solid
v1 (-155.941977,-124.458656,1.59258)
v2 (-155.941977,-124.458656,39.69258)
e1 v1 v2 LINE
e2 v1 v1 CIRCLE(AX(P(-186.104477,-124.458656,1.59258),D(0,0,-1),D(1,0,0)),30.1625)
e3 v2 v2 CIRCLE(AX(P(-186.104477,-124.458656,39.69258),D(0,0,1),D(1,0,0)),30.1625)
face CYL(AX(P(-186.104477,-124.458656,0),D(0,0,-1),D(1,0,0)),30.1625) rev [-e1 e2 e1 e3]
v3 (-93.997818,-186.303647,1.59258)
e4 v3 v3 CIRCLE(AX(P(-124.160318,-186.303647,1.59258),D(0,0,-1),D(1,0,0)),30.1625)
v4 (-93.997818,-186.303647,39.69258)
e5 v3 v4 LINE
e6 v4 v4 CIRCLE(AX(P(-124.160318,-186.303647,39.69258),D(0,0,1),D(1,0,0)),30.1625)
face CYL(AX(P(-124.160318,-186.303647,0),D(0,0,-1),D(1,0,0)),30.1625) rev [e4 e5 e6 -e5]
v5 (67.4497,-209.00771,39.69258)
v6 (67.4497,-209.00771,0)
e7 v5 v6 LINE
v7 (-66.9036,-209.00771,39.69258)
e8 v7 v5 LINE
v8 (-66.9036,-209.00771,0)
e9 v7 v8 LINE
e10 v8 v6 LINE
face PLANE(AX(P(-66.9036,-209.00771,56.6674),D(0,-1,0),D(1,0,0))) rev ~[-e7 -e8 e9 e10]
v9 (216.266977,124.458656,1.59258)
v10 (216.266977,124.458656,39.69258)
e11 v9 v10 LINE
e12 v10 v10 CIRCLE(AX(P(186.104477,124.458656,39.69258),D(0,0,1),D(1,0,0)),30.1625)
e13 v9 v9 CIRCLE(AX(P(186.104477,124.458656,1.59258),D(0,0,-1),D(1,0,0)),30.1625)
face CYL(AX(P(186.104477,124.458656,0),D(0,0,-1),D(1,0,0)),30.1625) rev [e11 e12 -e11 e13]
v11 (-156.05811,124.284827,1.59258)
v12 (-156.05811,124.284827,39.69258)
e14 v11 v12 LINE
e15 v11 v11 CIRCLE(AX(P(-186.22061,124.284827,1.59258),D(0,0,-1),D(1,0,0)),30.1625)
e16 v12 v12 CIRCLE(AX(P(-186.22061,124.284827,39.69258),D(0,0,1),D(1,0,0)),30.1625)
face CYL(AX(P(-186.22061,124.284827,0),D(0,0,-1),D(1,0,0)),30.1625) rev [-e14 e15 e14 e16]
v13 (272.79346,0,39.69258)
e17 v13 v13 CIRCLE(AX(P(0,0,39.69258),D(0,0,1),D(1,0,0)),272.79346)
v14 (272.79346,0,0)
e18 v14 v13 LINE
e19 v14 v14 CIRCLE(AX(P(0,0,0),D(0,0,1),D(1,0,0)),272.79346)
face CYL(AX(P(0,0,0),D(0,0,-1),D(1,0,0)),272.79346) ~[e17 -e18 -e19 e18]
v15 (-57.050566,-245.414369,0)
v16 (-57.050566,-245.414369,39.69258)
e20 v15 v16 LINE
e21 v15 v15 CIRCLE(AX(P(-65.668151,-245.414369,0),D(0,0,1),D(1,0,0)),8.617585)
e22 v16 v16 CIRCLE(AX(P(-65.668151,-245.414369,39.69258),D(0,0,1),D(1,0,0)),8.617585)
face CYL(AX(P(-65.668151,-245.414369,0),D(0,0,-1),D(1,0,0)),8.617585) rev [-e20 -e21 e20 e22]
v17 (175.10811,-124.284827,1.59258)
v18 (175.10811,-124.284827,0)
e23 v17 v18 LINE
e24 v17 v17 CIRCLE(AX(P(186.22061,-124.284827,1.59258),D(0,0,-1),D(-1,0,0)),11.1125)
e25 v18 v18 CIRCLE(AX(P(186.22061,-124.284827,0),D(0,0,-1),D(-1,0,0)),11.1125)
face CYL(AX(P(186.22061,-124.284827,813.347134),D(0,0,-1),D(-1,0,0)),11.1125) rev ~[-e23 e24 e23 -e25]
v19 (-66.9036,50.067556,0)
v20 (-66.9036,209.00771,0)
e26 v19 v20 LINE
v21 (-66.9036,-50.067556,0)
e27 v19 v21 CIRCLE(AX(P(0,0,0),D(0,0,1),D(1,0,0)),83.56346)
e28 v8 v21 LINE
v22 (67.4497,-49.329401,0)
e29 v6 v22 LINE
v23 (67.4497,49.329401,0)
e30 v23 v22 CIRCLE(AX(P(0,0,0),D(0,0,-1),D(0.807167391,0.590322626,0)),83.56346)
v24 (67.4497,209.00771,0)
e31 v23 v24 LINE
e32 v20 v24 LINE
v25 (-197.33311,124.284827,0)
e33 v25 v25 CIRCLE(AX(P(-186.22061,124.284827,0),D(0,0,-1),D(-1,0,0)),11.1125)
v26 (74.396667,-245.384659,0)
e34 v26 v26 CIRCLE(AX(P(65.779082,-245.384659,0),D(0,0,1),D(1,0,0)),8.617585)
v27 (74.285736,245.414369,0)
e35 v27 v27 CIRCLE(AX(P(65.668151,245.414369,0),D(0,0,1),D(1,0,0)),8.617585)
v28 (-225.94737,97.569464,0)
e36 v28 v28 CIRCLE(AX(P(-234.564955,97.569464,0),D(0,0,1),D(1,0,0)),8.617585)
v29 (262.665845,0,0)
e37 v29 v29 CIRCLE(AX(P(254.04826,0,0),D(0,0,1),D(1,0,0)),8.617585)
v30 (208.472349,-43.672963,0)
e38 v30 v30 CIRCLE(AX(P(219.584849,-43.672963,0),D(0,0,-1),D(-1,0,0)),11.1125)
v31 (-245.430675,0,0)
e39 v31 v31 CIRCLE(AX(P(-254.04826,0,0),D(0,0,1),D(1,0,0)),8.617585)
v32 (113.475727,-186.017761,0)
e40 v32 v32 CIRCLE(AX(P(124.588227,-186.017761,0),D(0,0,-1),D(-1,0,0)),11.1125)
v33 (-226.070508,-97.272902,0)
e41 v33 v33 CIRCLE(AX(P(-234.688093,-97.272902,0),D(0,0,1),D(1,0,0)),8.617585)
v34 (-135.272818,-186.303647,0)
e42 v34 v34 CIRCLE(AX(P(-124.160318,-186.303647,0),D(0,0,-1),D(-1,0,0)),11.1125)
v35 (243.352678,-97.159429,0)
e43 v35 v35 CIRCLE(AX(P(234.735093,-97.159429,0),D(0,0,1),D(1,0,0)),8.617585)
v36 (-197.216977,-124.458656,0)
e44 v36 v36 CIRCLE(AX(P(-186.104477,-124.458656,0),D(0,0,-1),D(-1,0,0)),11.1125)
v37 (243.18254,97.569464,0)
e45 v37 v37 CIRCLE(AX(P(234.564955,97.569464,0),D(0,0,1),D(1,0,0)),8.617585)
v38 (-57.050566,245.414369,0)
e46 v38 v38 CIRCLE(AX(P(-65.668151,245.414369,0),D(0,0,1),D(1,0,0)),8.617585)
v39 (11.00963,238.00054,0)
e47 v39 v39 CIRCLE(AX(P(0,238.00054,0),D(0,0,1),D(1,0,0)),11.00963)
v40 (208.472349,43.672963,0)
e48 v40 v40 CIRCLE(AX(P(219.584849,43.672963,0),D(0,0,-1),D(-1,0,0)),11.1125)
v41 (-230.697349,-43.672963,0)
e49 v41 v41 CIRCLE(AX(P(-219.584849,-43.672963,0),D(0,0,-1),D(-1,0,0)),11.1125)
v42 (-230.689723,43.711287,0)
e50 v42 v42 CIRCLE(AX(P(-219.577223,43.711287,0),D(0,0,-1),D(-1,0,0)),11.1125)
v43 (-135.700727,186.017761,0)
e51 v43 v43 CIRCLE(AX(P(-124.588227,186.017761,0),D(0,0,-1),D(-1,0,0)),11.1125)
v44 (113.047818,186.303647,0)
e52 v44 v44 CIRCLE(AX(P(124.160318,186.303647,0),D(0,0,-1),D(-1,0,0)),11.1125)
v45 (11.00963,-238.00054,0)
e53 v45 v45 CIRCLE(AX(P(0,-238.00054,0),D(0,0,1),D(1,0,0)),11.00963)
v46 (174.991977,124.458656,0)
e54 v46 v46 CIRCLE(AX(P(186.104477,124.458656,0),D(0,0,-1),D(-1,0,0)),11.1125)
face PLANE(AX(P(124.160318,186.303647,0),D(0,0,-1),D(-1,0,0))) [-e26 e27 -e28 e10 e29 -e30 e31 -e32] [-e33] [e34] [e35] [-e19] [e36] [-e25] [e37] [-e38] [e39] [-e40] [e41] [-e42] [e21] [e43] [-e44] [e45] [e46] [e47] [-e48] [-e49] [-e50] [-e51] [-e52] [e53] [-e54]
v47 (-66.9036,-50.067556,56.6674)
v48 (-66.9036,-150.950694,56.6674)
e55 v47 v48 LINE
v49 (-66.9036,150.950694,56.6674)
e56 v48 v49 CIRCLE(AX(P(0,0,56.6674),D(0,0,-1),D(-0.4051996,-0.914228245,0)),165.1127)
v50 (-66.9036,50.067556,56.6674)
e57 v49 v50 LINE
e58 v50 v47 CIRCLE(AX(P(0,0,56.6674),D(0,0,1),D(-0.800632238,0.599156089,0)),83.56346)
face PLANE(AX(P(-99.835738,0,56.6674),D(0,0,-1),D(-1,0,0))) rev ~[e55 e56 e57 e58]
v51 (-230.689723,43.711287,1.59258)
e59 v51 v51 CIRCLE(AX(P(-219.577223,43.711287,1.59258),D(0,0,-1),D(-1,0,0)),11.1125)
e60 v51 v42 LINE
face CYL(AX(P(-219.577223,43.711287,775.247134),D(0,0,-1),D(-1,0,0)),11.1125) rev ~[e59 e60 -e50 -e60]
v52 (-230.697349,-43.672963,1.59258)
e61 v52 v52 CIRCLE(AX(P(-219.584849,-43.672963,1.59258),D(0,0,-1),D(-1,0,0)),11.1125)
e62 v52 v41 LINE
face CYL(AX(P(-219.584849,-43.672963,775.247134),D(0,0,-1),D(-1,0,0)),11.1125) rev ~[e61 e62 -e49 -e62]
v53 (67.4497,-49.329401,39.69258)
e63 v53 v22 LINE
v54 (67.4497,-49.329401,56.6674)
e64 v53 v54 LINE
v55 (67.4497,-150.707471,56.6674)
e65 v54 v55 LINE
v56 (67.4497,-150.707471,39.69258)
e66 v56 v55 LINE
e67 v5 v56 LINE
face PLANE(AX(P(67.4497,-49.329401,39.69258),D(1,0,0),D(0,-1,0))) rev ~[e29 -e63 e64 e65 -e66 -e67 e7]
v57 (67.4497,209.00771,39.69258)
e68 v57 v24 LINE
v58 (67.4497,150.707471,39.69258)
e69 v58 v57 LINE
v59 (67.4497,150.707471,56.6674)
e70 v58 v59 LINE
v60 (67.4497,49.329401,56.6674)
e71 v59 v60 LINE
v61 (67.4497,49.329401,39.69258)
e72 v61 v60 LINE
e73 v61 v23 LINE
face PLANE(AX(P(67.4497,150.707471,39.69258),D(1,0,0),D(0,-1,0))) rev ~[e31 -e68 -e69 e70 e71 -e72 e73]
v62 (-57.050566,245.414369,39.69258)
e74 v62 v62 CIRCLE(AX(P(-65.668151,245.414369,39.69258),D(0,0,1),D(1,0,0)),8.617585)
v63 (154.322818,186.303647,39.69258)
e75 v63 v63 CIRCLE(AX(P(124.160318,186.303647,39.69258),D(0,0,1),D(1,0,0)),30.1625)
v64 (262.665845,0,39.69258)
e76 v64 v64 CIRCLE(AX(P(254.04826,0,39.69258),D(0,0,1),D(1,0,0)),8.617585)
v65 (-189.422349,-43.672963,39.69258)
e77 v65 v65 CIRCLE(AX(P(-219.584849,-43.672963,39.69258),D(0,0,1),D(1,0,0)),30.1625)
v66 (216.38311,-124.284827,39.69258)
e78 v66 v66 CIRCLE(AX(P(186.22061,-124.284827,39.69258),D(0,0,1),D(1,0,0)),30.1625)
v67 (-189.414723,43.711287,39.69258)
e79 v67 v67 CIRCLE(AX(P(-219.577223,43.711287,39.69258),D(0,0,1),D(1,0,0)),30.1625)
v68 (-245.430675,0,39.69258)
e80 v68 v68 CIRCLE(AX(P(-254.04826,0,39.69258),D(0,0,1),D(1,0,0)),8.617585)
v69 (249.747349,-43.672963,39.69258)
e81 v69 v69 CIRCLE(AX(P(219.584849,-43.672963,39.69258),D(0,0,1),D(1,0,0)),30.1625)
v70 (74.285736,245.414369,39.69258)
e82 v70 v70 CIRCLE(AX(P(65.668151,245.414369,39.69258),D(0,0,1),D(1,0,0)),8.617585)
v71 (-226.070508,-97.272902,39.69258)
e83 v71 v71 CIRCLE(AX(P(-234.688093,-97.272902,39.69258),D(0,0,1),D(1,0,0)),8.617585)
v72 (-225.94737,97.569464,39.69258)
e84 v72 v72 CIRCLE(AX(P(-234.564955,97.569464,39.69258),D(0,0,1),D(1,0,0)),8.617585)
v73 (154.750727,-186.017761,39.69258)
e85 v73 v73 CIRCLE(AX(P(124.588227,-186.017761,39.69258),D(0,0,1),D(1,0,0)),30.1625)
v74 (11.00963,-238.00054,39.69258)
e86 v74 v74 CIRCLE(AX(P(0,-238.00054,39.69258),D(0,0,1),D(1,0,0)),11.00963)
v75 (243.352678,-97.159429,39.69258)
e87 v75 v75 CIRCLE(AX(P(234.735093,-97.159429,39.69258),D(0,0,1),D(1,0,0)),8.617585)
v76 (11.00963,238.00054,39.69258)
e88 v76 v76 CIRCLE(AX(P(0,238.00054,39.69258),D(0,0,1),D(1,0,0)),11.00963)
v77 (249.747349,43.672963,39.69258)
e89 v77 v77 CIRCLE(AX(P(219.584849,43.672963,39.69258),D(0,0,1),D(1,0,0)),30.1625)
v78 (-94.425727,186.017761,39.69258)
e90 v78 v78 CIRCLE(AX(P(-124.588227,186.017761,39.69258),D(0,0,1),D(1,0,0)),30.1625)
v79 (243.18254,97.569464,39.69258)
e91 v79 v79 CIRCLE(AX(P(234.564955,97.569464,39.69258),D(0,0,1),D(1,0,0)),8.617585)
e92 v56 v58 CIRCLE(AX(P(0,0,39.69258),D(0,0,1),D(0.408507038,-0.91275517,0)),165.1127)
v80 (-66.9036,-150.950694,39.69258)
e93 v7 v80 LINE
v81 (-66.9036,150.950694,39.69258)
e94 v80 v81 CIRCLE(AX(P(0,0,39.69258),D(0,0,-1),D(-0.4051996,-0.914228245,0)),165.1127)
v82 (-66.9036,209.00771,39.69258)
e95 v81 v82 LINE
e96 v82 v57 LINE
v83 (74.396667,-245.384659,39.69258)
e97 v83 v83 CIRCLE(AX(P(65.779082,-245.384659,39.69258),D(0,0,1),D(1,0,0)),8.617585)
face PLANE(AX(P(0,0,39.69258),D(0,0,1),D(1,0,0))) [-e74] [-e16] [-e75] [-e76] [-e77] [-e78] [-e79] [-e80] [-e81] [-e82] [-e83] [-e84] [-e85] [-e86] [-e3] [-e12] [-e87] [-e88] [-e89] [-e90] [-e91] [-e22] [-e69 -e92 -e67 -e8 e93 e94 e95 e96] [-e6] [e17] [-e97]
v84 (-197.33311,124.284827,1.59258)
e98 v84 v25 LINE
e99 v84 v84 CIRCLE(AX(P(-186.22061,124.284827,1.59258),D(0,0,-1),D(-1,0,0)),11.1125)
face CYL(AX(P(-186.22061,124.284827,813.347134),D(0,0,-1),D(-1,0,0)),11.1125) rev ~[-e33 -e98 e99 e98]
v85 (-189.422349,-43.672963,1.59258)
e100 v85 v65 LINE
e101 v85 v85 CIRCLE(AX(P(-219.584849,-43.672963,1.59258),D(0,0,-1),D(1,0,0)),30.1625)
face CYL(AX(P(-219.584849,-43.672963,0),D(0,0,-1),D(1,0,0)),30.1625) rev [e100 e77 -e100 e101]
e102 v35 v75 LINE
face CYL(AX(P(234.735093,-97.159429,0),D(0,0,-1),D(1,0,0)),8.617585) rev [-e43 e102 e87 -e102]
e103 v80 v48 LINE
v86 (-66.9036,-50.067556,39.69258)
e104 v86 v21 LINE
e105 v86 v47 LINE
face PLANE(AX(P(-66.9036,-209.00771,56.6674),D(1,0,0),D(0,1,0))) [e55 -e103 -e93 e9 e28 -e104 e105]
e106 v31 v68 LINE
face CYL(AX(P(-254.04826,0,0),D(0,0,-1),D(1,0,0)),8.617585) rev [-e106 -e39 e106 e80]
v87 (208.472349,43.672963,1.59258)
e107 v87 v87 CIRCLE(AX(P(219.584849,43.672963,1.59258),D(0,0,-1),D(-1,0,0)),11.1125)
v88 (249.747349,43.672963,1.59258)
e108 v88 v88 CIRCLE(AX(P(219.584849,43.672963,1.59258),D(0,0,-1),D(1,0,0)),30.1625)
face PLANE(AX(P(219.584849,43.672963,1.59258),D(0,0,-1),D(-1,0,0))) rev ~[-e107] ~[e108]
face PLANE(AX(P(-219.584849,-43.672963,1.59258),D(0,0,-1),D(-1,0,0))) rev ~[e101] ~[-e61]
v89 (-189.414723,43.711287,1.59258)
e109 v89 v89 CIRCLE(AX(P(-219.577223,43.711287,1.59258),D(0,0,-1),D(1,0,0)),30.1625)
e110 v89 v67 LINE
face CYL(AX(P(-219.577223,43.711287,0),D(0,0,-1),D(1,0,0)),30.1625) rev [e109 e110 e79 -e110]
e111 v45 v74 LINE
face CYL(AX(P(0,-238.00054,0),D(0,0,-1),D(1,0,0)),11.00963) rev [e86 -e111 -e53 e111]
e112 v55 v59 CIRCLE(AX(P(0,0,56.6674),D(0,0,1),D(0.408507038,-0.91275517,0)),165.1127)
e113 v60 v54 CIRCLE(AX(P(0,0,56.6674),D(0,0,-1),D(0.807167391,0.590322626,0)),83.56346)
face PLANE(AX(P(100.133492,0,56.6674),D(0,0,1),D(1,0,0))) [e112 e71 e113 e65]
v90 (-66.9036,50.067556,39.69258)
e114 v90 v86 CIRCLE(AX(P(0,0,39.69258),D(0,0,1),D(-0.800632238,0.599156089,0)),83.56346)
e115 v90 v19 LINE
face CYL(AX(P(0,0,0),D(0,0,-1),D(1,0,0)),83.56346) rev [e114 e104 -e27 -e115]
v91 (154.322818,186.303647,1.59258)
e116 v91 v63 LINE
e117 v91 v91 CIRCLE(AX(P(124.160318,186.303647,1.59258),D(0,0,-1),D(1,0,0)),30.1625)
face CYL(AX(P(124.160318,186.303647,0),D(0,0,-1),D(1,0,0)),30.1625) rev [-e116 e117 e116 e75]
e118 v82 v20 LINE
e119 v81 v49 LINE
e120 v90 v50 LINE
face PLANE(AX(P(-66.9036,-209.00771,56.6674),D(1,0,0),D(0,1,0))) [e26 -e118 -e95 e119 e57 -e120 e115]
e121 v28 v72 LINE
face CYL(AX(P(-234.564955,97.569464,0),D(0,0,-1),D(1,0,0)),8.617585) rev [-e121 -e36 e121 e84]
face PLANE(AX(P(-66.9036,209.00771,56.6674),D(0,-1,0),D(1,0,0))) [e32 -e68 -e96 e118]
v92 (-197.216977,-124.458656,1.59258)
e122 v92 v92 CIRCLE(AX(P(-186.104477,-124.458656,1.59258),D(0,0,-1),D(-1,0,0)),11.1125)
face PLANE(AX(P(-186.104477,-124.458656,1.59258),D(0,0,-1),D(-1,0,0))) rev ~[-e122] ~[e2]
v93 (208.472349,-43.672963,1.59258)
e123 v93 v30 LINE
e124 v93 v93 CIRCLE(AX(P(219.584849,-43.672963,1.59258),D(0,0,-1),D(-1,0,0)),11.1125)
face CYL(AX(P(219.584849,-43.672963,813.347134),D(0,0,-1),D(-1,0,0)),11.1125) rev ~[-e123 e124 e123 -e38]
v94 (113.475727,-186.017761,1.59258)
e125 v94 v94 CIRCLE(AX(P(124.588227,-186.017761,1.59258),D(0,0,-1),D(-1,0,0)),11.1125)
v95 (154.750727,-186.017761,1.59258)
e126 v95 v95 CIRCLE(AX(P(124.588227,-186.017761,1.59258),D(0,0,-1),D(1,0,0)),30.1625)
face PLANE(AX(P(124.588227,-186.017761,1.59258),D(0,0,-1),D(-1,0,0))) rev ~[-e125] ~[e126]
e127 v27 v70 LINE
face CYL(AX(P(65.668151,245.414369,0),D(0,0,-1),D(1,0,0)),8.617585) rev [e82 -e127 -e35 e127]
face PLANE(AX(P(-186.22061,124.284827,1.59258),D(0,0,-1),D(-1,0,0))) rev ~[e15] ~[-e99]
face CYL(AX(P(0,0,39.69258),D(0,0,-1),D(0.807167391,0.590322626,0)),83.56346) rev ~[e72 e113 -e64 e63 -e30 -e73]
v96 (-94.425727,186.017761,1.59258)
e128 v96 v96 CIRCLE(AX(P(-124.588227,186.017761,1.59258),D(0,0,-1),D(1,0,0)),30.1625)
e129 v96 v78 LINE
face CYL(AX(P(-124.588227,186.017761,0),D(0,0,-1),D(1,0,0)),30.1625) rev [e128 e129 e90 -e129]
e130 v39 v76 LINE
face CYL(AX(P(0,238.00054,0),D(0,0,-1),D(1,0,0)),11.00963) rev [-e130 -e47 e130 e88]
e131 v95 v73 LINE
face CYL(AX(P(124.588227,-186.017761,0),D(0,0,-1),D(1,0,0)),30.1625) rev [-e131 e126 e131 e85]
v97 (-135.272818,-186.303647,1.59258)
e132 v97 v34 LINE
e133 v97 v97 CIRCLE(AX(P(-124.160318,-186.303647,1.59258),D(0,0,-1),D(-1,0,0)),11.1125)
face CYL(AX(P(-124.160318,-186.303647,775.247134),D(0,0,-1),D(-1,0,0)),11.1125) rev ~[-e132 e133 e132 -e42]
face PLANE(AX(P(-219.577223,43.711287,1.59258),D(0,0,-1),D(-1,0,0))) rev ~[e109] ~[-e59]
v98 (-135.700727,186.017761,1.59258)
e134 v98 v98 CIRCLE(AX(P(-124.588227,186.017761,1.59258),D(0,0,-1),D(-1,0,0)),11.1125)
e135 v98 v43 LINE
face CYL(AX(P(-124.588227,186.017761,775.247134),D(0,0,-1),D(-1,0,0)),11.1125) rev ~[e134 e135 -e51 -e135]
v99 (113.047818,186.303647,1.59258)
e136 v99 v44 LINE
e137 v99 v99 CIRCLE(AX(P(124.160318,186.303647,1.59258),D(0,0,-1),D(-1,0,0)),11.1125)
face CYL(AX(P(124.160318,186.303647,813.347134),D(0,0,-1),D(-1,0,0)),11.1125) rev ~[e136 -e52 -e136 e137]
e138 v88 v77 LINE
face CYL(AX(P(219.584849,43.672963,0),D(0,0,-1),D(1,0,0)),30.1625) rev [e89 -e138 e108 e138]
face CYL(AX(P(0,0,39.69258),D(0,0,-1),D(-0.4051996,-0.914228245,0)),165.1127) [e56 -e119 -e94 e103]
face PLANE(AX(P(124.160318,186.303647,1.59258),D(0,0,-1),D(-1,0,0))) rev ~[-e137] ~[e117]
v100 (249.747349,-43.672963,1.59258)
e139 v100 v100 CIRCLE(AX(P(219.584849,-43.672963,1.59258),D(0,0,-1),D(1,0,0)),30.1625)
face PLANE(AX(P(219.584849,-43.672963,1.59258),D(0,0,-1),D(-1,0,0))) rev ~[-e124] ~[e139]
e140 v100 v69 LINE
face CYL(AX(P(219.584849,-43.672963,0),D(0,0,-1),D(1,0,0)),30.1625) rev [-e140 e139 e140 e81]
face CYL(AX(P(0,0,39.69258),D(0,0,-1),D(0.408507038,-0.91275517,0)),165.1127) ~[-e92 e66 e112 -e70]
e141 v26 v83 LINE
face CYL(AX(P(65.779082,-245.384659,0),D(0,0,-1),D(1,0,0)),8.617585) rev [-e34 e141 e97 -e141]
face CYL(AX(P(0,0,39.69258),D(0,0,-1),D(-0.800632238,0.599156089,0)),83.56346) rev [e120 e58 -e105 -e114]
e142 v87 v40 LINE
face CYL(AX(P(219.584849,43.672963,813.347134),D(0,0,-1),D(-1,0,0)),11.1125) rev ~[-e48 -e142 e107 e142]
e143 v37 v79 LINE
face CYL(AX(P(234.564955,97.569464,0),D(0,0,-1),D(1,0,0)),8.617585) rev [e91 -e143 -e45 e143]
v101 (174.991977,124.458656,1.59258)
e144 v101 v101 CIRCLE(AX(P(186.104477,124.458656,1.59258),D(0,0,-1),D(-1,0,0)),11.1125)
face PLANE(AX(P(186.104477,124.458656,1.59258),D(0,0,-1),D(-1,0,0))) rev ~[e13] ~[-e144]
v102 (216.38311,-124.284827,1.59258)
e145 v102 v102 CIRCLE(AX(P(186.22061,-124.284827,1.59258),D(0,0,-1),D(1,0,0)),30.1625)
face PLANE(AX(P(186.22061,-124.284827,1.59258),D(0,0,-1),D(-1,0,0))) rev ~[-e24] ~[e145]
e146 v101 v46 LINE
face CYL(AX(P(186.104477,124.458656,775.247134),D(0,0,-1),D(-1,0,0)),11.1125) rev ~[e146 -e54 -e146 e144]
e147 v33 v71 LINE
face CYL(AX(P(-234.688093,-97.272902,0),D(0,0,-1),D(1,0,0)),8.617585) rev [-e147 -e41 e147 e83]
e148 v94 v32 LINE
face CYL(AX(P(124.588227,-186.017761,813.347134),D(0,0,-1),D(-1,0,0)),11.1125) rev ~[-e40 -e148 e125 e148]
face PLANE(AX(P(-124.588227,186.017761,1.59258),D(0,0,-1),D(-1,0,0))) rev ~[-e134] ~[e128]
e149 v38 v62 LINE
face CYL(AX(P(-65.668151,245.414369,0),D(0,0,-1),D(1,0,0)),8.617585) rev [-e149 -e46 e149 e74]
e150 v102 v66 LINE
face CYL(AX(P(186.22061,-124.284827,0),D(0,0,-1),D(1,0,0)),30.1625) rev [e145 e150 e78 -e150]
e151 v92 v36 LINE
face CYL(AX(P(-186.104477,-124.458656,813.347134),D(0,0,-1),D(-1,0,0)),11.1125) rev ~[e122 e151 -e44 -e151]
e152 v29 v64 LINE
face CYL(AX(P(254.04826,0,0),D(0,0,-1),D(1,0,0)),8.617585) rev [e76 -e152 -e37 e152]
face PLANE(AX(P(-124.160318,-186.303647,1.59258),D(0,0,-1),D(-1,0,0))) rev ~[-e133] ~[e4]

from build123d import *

# Parameters (mm, degrees)
SKETCH1_R                      = 272.79346
SKETCH1_R_2                    = 30.1625
SKETCH1_R_3                    = 8.617585
SKETCH1_R_4                    = 11.00963
SKETCH1_R_5                    = 164.44976
SKETCH1_R_6                    = 83.56346
EXTRUDE5_DEPTH                 = 39.69258
EXTRUDE8_DEPTH                 = 16.97482
SKETCH4_W                      = 134.3533
SKETCH4_H                      = 418.01542
EXTRUDE10_DEPTH                = 64.83223
SKETCH7_R                      = 30.1625
EXTRUDE12_DEPTH                = 1.59258
F_1_8_TAPPED_HOLE1_D           = 22.225
F_1_8_TAPPED_HOLE1_ON_FACE_2_D = 22.225


with BuildPart() as part:
    # Sketch1 → Extrude5 (new body)
    with BuildSketch(Plane.XY):
        Circle(SKETCH1_R)
        with Locations((219.584848865, -43.672962802)):
            Circle(SKETCH1_R_2, mode=Mode.SUBTRACT)
        with Locations((-219.57722315, 43.711286923)):
            Circle(SKETCH1_R_2, mode=Mode.SUBTRACT)
        with Locations((186.220609513, -124.284826602)):
            Circle(SKETCH1_R_2, mode=Mode.SUBTRACT)
        with Locations((-186.220609513, 124.284826602)):
            Circle(SKETCH1_R_2, mode=Mode.SUBTRACT)
        with Locations((124.588226536, -186.017760817)):
            Circle(SKETCH1_R_2, mode=Mode.SUBTRACT)
        with Locations((-124.588226536, 186.017760817)):
            Circle(SKETCH1_R_2, mode=Mode.SUBTRACT)
        with Locations((-124.160317609, -186.303647474)):
            Circle(SKETCH1_R_2, mode=Mode.SUBTRACT)
        with Locations((124.160317609, 186.303647474)):
            Circle(SKETCH1_R_2, mode=Mode.SUBTRACT)
        with Locations((-186.104477248, -124.458656103)):
            Circle(SKETCH1_R_2, mode=Mode.SUBTRACT)
        with Locations((186.104477248, 124.458656103)):
            Circle(SKETCH1_R_2, mode=Mode.SUBTRACT)
        with Locations((219.584848865, 43.672962802)):
            Circle(SKETCH1_R_2, mode=Mode.SUBTRACT)
        with Locations((-219.584848865, -43.672962802)):
            Circle(SKETCH1_R_2, mode=Mode.SUBTRACT)
        with Locations((-234.688092884, -97.272902019)):
            Circle(SKETCH1_R_3, mode=Mode.SUBTRACT)
        with Locations((-65.668151158, -245.414368635)):
            Circle(SKETCH1_R_3, mode=Mode.SUBTRACT)
        with Locations((65.779081624, -245.384658913)):
            Circle(SKETCH1_R_3, mode=Mode.SUBTRACT)
        with Locations((234.735092644, -97.159429242)):
            Circle(SKETCH1_R_3, mode=Mode.SUBTRACT)
        with Locations((-234.564955174, 97.569463528)):
            Circle(SKETCH1_R_3, mode=Mode.SUBTRACT)
        with Locations((-65.668151158, 245.414368635)):
            Circle(SKETCH1_R_3, mode=Mode.SUBTRACT)
        with Locations((65.668151158, 245.414368635)):
            Circle(SKETCH1_R_3, mode=Mode.SUBTRACT)
        with Locations((234.564955174, 97.569463528)):
            Circle(SKETCH1_R_3, mode=Mode.SUBTRACT)
        with Locations((254.04826, 0)):
            Circle(SKETCH1_R_3, mode=Mode.SUBTRACT)
        with Locations((-254.04826, 0)):
            Circle(SKETCH1_R_3, mode=Mode.SUBTRACT)
        with Locations((0, -238.00054)):
            Circle(SKETCH1_R_4, mode=Mode.SUBTRACT)
        with Locations((0, 238.00054)):
            Circle(SKETCH1_R_4, mode=Mode.SUBTRACT)
        Circle(SKETCH1_R_5, mode=Mode.SUBTRACT)
        Circle(SKETCH1_R_5)
        Circle(SKETCH1_R_6, mode=Mode.SUBTRACT)
    extrude(amount=EXTRUDE5_DEPTH)

    # Sketch3 → Extrude8 (add)
    with BuildSketch(Plane.XY.offset(39.69258)):
        with BuildLine():
            Line((-66.9036, 150.950693964), (-66.9036, 50.067555904))
            ThreePointArc((-66.9036, 50.067555904), (-83.56346, 0), (-66.9036, -50.067555904))
            Line((-66.9036, -50.067555904), (-66.9036, -150.950693964))
            ThreePointArc((-66.9036, -150.950693964), (-165.1127, 0), (-66.9036, 150.950693964))
        make_face()
        with BuildLine():
            Line((67.4497, 150.707470522), (67.4497, 49.329401143))
            ThreePointArc((67.4497, 49.329401143), (83.56346, 0), (67.4497, -49.329401143))
            Line((67.4497, -49.329401143), (67.4497, -150.707470522))
            ThreePointArc((67.4497, -150.707470522), (165.1127, 0), (67.4497, 150.707470522))
        make_face()
    extrude(amount=EXTRUDE8_DEPTH)

    # Sketch4 → Extrude10 (cut)
    with BuildSketch(Plane.XY.offset(56.6674)):
        with Locations((0.27305, 0)):
            Rectangle(SKETCH4_W, SKETCH4_H)
    extrude(amount=-EXTRUDE10_DEPTH, mode=Mode.SUBTRACT)

    # Sketch7 → Extrude12 (add)
    with BuildSketch(Plane(origin=(0, 0, 0), x_dir=(-1, 0, 0), z_dir=(0, 0, -1))):
        with Locations((-124.160317609, 186.303647474)):
            Circle(SKETCH7_R)
        with Locations((-186.104477248, 124.458656103)):
            Circle(SKETCH7_R)
        with Locations((-219.584848865, 43.672962802)):
            Circle(SKETCH7_R)
        with Locations((-219.584848865, -43.672962802)):
            Circle(SKETCH7_R)
        with Locations((-186.220609513, -124.284826602)):
            Circle(SKETCH7_R)
        with Locations((-124.588226536, -186.017760817)):
            Circle(SKETCH7_R)
        with Locations((124.160317609, -186.303647474)):
            Circle(SKETCH7_R)
        with Locations((186.104477248, -124.458656103)):
            Circle(SKETCH7_R)
        with Locations((219.584848865, -43.672962802)):
            Circle(SKETCH7_R)
        with Locations((219.57722315, 43.711286923)):
            Circle(SKETCH7_R)
        with Locations((186.220609513, 124.284826602)):
            Circle(SKETCH7_R)
        with Locations((124.588226536, 186.017760817)):
            Circle(SKETCH7_R)
    extrude(amount=-EXTRUDE12_DEPTH)

    # 1-8 Tapped Hole1 (through all)
    with Locations(Plane(origin=(124.160317609, 186.303647474, 39.69258), x_dir=(1, 0, 0), z_dir=(0, 0, 1))):
        with Locations((0, 0), (95.424531256, -142.630684672), (95.424531256, -229.976610276), (62.060291904, -310.588474076), (0.427908927, -372.321408291), (-310.264794857, -310.762303577), (-310.380927122, -62.018820872)):
            Hole(F_1_8_TAPPED_HOLE1_D / 2)

    # 1-8 Tapped Hole1 on face 2 (through all)
    with Locations(Plane(origin=(124.160317609, 186.303647474, 1.59258), x_dir=(1, 0, 0), z_dir=(0, 0, 1))):
        with Locations((0, 0), (61.944159639, -61.844991371), (-248.320635218, -372.607294948), (-343.745166474, -229.976610276), (-343.737540759, -142.592360551), (-248.748544145, -0.285886657)):
            Hole(F_1_8_TAPPED_HOLE1_ON_FACE_2_D / 2)


solid = part.part
